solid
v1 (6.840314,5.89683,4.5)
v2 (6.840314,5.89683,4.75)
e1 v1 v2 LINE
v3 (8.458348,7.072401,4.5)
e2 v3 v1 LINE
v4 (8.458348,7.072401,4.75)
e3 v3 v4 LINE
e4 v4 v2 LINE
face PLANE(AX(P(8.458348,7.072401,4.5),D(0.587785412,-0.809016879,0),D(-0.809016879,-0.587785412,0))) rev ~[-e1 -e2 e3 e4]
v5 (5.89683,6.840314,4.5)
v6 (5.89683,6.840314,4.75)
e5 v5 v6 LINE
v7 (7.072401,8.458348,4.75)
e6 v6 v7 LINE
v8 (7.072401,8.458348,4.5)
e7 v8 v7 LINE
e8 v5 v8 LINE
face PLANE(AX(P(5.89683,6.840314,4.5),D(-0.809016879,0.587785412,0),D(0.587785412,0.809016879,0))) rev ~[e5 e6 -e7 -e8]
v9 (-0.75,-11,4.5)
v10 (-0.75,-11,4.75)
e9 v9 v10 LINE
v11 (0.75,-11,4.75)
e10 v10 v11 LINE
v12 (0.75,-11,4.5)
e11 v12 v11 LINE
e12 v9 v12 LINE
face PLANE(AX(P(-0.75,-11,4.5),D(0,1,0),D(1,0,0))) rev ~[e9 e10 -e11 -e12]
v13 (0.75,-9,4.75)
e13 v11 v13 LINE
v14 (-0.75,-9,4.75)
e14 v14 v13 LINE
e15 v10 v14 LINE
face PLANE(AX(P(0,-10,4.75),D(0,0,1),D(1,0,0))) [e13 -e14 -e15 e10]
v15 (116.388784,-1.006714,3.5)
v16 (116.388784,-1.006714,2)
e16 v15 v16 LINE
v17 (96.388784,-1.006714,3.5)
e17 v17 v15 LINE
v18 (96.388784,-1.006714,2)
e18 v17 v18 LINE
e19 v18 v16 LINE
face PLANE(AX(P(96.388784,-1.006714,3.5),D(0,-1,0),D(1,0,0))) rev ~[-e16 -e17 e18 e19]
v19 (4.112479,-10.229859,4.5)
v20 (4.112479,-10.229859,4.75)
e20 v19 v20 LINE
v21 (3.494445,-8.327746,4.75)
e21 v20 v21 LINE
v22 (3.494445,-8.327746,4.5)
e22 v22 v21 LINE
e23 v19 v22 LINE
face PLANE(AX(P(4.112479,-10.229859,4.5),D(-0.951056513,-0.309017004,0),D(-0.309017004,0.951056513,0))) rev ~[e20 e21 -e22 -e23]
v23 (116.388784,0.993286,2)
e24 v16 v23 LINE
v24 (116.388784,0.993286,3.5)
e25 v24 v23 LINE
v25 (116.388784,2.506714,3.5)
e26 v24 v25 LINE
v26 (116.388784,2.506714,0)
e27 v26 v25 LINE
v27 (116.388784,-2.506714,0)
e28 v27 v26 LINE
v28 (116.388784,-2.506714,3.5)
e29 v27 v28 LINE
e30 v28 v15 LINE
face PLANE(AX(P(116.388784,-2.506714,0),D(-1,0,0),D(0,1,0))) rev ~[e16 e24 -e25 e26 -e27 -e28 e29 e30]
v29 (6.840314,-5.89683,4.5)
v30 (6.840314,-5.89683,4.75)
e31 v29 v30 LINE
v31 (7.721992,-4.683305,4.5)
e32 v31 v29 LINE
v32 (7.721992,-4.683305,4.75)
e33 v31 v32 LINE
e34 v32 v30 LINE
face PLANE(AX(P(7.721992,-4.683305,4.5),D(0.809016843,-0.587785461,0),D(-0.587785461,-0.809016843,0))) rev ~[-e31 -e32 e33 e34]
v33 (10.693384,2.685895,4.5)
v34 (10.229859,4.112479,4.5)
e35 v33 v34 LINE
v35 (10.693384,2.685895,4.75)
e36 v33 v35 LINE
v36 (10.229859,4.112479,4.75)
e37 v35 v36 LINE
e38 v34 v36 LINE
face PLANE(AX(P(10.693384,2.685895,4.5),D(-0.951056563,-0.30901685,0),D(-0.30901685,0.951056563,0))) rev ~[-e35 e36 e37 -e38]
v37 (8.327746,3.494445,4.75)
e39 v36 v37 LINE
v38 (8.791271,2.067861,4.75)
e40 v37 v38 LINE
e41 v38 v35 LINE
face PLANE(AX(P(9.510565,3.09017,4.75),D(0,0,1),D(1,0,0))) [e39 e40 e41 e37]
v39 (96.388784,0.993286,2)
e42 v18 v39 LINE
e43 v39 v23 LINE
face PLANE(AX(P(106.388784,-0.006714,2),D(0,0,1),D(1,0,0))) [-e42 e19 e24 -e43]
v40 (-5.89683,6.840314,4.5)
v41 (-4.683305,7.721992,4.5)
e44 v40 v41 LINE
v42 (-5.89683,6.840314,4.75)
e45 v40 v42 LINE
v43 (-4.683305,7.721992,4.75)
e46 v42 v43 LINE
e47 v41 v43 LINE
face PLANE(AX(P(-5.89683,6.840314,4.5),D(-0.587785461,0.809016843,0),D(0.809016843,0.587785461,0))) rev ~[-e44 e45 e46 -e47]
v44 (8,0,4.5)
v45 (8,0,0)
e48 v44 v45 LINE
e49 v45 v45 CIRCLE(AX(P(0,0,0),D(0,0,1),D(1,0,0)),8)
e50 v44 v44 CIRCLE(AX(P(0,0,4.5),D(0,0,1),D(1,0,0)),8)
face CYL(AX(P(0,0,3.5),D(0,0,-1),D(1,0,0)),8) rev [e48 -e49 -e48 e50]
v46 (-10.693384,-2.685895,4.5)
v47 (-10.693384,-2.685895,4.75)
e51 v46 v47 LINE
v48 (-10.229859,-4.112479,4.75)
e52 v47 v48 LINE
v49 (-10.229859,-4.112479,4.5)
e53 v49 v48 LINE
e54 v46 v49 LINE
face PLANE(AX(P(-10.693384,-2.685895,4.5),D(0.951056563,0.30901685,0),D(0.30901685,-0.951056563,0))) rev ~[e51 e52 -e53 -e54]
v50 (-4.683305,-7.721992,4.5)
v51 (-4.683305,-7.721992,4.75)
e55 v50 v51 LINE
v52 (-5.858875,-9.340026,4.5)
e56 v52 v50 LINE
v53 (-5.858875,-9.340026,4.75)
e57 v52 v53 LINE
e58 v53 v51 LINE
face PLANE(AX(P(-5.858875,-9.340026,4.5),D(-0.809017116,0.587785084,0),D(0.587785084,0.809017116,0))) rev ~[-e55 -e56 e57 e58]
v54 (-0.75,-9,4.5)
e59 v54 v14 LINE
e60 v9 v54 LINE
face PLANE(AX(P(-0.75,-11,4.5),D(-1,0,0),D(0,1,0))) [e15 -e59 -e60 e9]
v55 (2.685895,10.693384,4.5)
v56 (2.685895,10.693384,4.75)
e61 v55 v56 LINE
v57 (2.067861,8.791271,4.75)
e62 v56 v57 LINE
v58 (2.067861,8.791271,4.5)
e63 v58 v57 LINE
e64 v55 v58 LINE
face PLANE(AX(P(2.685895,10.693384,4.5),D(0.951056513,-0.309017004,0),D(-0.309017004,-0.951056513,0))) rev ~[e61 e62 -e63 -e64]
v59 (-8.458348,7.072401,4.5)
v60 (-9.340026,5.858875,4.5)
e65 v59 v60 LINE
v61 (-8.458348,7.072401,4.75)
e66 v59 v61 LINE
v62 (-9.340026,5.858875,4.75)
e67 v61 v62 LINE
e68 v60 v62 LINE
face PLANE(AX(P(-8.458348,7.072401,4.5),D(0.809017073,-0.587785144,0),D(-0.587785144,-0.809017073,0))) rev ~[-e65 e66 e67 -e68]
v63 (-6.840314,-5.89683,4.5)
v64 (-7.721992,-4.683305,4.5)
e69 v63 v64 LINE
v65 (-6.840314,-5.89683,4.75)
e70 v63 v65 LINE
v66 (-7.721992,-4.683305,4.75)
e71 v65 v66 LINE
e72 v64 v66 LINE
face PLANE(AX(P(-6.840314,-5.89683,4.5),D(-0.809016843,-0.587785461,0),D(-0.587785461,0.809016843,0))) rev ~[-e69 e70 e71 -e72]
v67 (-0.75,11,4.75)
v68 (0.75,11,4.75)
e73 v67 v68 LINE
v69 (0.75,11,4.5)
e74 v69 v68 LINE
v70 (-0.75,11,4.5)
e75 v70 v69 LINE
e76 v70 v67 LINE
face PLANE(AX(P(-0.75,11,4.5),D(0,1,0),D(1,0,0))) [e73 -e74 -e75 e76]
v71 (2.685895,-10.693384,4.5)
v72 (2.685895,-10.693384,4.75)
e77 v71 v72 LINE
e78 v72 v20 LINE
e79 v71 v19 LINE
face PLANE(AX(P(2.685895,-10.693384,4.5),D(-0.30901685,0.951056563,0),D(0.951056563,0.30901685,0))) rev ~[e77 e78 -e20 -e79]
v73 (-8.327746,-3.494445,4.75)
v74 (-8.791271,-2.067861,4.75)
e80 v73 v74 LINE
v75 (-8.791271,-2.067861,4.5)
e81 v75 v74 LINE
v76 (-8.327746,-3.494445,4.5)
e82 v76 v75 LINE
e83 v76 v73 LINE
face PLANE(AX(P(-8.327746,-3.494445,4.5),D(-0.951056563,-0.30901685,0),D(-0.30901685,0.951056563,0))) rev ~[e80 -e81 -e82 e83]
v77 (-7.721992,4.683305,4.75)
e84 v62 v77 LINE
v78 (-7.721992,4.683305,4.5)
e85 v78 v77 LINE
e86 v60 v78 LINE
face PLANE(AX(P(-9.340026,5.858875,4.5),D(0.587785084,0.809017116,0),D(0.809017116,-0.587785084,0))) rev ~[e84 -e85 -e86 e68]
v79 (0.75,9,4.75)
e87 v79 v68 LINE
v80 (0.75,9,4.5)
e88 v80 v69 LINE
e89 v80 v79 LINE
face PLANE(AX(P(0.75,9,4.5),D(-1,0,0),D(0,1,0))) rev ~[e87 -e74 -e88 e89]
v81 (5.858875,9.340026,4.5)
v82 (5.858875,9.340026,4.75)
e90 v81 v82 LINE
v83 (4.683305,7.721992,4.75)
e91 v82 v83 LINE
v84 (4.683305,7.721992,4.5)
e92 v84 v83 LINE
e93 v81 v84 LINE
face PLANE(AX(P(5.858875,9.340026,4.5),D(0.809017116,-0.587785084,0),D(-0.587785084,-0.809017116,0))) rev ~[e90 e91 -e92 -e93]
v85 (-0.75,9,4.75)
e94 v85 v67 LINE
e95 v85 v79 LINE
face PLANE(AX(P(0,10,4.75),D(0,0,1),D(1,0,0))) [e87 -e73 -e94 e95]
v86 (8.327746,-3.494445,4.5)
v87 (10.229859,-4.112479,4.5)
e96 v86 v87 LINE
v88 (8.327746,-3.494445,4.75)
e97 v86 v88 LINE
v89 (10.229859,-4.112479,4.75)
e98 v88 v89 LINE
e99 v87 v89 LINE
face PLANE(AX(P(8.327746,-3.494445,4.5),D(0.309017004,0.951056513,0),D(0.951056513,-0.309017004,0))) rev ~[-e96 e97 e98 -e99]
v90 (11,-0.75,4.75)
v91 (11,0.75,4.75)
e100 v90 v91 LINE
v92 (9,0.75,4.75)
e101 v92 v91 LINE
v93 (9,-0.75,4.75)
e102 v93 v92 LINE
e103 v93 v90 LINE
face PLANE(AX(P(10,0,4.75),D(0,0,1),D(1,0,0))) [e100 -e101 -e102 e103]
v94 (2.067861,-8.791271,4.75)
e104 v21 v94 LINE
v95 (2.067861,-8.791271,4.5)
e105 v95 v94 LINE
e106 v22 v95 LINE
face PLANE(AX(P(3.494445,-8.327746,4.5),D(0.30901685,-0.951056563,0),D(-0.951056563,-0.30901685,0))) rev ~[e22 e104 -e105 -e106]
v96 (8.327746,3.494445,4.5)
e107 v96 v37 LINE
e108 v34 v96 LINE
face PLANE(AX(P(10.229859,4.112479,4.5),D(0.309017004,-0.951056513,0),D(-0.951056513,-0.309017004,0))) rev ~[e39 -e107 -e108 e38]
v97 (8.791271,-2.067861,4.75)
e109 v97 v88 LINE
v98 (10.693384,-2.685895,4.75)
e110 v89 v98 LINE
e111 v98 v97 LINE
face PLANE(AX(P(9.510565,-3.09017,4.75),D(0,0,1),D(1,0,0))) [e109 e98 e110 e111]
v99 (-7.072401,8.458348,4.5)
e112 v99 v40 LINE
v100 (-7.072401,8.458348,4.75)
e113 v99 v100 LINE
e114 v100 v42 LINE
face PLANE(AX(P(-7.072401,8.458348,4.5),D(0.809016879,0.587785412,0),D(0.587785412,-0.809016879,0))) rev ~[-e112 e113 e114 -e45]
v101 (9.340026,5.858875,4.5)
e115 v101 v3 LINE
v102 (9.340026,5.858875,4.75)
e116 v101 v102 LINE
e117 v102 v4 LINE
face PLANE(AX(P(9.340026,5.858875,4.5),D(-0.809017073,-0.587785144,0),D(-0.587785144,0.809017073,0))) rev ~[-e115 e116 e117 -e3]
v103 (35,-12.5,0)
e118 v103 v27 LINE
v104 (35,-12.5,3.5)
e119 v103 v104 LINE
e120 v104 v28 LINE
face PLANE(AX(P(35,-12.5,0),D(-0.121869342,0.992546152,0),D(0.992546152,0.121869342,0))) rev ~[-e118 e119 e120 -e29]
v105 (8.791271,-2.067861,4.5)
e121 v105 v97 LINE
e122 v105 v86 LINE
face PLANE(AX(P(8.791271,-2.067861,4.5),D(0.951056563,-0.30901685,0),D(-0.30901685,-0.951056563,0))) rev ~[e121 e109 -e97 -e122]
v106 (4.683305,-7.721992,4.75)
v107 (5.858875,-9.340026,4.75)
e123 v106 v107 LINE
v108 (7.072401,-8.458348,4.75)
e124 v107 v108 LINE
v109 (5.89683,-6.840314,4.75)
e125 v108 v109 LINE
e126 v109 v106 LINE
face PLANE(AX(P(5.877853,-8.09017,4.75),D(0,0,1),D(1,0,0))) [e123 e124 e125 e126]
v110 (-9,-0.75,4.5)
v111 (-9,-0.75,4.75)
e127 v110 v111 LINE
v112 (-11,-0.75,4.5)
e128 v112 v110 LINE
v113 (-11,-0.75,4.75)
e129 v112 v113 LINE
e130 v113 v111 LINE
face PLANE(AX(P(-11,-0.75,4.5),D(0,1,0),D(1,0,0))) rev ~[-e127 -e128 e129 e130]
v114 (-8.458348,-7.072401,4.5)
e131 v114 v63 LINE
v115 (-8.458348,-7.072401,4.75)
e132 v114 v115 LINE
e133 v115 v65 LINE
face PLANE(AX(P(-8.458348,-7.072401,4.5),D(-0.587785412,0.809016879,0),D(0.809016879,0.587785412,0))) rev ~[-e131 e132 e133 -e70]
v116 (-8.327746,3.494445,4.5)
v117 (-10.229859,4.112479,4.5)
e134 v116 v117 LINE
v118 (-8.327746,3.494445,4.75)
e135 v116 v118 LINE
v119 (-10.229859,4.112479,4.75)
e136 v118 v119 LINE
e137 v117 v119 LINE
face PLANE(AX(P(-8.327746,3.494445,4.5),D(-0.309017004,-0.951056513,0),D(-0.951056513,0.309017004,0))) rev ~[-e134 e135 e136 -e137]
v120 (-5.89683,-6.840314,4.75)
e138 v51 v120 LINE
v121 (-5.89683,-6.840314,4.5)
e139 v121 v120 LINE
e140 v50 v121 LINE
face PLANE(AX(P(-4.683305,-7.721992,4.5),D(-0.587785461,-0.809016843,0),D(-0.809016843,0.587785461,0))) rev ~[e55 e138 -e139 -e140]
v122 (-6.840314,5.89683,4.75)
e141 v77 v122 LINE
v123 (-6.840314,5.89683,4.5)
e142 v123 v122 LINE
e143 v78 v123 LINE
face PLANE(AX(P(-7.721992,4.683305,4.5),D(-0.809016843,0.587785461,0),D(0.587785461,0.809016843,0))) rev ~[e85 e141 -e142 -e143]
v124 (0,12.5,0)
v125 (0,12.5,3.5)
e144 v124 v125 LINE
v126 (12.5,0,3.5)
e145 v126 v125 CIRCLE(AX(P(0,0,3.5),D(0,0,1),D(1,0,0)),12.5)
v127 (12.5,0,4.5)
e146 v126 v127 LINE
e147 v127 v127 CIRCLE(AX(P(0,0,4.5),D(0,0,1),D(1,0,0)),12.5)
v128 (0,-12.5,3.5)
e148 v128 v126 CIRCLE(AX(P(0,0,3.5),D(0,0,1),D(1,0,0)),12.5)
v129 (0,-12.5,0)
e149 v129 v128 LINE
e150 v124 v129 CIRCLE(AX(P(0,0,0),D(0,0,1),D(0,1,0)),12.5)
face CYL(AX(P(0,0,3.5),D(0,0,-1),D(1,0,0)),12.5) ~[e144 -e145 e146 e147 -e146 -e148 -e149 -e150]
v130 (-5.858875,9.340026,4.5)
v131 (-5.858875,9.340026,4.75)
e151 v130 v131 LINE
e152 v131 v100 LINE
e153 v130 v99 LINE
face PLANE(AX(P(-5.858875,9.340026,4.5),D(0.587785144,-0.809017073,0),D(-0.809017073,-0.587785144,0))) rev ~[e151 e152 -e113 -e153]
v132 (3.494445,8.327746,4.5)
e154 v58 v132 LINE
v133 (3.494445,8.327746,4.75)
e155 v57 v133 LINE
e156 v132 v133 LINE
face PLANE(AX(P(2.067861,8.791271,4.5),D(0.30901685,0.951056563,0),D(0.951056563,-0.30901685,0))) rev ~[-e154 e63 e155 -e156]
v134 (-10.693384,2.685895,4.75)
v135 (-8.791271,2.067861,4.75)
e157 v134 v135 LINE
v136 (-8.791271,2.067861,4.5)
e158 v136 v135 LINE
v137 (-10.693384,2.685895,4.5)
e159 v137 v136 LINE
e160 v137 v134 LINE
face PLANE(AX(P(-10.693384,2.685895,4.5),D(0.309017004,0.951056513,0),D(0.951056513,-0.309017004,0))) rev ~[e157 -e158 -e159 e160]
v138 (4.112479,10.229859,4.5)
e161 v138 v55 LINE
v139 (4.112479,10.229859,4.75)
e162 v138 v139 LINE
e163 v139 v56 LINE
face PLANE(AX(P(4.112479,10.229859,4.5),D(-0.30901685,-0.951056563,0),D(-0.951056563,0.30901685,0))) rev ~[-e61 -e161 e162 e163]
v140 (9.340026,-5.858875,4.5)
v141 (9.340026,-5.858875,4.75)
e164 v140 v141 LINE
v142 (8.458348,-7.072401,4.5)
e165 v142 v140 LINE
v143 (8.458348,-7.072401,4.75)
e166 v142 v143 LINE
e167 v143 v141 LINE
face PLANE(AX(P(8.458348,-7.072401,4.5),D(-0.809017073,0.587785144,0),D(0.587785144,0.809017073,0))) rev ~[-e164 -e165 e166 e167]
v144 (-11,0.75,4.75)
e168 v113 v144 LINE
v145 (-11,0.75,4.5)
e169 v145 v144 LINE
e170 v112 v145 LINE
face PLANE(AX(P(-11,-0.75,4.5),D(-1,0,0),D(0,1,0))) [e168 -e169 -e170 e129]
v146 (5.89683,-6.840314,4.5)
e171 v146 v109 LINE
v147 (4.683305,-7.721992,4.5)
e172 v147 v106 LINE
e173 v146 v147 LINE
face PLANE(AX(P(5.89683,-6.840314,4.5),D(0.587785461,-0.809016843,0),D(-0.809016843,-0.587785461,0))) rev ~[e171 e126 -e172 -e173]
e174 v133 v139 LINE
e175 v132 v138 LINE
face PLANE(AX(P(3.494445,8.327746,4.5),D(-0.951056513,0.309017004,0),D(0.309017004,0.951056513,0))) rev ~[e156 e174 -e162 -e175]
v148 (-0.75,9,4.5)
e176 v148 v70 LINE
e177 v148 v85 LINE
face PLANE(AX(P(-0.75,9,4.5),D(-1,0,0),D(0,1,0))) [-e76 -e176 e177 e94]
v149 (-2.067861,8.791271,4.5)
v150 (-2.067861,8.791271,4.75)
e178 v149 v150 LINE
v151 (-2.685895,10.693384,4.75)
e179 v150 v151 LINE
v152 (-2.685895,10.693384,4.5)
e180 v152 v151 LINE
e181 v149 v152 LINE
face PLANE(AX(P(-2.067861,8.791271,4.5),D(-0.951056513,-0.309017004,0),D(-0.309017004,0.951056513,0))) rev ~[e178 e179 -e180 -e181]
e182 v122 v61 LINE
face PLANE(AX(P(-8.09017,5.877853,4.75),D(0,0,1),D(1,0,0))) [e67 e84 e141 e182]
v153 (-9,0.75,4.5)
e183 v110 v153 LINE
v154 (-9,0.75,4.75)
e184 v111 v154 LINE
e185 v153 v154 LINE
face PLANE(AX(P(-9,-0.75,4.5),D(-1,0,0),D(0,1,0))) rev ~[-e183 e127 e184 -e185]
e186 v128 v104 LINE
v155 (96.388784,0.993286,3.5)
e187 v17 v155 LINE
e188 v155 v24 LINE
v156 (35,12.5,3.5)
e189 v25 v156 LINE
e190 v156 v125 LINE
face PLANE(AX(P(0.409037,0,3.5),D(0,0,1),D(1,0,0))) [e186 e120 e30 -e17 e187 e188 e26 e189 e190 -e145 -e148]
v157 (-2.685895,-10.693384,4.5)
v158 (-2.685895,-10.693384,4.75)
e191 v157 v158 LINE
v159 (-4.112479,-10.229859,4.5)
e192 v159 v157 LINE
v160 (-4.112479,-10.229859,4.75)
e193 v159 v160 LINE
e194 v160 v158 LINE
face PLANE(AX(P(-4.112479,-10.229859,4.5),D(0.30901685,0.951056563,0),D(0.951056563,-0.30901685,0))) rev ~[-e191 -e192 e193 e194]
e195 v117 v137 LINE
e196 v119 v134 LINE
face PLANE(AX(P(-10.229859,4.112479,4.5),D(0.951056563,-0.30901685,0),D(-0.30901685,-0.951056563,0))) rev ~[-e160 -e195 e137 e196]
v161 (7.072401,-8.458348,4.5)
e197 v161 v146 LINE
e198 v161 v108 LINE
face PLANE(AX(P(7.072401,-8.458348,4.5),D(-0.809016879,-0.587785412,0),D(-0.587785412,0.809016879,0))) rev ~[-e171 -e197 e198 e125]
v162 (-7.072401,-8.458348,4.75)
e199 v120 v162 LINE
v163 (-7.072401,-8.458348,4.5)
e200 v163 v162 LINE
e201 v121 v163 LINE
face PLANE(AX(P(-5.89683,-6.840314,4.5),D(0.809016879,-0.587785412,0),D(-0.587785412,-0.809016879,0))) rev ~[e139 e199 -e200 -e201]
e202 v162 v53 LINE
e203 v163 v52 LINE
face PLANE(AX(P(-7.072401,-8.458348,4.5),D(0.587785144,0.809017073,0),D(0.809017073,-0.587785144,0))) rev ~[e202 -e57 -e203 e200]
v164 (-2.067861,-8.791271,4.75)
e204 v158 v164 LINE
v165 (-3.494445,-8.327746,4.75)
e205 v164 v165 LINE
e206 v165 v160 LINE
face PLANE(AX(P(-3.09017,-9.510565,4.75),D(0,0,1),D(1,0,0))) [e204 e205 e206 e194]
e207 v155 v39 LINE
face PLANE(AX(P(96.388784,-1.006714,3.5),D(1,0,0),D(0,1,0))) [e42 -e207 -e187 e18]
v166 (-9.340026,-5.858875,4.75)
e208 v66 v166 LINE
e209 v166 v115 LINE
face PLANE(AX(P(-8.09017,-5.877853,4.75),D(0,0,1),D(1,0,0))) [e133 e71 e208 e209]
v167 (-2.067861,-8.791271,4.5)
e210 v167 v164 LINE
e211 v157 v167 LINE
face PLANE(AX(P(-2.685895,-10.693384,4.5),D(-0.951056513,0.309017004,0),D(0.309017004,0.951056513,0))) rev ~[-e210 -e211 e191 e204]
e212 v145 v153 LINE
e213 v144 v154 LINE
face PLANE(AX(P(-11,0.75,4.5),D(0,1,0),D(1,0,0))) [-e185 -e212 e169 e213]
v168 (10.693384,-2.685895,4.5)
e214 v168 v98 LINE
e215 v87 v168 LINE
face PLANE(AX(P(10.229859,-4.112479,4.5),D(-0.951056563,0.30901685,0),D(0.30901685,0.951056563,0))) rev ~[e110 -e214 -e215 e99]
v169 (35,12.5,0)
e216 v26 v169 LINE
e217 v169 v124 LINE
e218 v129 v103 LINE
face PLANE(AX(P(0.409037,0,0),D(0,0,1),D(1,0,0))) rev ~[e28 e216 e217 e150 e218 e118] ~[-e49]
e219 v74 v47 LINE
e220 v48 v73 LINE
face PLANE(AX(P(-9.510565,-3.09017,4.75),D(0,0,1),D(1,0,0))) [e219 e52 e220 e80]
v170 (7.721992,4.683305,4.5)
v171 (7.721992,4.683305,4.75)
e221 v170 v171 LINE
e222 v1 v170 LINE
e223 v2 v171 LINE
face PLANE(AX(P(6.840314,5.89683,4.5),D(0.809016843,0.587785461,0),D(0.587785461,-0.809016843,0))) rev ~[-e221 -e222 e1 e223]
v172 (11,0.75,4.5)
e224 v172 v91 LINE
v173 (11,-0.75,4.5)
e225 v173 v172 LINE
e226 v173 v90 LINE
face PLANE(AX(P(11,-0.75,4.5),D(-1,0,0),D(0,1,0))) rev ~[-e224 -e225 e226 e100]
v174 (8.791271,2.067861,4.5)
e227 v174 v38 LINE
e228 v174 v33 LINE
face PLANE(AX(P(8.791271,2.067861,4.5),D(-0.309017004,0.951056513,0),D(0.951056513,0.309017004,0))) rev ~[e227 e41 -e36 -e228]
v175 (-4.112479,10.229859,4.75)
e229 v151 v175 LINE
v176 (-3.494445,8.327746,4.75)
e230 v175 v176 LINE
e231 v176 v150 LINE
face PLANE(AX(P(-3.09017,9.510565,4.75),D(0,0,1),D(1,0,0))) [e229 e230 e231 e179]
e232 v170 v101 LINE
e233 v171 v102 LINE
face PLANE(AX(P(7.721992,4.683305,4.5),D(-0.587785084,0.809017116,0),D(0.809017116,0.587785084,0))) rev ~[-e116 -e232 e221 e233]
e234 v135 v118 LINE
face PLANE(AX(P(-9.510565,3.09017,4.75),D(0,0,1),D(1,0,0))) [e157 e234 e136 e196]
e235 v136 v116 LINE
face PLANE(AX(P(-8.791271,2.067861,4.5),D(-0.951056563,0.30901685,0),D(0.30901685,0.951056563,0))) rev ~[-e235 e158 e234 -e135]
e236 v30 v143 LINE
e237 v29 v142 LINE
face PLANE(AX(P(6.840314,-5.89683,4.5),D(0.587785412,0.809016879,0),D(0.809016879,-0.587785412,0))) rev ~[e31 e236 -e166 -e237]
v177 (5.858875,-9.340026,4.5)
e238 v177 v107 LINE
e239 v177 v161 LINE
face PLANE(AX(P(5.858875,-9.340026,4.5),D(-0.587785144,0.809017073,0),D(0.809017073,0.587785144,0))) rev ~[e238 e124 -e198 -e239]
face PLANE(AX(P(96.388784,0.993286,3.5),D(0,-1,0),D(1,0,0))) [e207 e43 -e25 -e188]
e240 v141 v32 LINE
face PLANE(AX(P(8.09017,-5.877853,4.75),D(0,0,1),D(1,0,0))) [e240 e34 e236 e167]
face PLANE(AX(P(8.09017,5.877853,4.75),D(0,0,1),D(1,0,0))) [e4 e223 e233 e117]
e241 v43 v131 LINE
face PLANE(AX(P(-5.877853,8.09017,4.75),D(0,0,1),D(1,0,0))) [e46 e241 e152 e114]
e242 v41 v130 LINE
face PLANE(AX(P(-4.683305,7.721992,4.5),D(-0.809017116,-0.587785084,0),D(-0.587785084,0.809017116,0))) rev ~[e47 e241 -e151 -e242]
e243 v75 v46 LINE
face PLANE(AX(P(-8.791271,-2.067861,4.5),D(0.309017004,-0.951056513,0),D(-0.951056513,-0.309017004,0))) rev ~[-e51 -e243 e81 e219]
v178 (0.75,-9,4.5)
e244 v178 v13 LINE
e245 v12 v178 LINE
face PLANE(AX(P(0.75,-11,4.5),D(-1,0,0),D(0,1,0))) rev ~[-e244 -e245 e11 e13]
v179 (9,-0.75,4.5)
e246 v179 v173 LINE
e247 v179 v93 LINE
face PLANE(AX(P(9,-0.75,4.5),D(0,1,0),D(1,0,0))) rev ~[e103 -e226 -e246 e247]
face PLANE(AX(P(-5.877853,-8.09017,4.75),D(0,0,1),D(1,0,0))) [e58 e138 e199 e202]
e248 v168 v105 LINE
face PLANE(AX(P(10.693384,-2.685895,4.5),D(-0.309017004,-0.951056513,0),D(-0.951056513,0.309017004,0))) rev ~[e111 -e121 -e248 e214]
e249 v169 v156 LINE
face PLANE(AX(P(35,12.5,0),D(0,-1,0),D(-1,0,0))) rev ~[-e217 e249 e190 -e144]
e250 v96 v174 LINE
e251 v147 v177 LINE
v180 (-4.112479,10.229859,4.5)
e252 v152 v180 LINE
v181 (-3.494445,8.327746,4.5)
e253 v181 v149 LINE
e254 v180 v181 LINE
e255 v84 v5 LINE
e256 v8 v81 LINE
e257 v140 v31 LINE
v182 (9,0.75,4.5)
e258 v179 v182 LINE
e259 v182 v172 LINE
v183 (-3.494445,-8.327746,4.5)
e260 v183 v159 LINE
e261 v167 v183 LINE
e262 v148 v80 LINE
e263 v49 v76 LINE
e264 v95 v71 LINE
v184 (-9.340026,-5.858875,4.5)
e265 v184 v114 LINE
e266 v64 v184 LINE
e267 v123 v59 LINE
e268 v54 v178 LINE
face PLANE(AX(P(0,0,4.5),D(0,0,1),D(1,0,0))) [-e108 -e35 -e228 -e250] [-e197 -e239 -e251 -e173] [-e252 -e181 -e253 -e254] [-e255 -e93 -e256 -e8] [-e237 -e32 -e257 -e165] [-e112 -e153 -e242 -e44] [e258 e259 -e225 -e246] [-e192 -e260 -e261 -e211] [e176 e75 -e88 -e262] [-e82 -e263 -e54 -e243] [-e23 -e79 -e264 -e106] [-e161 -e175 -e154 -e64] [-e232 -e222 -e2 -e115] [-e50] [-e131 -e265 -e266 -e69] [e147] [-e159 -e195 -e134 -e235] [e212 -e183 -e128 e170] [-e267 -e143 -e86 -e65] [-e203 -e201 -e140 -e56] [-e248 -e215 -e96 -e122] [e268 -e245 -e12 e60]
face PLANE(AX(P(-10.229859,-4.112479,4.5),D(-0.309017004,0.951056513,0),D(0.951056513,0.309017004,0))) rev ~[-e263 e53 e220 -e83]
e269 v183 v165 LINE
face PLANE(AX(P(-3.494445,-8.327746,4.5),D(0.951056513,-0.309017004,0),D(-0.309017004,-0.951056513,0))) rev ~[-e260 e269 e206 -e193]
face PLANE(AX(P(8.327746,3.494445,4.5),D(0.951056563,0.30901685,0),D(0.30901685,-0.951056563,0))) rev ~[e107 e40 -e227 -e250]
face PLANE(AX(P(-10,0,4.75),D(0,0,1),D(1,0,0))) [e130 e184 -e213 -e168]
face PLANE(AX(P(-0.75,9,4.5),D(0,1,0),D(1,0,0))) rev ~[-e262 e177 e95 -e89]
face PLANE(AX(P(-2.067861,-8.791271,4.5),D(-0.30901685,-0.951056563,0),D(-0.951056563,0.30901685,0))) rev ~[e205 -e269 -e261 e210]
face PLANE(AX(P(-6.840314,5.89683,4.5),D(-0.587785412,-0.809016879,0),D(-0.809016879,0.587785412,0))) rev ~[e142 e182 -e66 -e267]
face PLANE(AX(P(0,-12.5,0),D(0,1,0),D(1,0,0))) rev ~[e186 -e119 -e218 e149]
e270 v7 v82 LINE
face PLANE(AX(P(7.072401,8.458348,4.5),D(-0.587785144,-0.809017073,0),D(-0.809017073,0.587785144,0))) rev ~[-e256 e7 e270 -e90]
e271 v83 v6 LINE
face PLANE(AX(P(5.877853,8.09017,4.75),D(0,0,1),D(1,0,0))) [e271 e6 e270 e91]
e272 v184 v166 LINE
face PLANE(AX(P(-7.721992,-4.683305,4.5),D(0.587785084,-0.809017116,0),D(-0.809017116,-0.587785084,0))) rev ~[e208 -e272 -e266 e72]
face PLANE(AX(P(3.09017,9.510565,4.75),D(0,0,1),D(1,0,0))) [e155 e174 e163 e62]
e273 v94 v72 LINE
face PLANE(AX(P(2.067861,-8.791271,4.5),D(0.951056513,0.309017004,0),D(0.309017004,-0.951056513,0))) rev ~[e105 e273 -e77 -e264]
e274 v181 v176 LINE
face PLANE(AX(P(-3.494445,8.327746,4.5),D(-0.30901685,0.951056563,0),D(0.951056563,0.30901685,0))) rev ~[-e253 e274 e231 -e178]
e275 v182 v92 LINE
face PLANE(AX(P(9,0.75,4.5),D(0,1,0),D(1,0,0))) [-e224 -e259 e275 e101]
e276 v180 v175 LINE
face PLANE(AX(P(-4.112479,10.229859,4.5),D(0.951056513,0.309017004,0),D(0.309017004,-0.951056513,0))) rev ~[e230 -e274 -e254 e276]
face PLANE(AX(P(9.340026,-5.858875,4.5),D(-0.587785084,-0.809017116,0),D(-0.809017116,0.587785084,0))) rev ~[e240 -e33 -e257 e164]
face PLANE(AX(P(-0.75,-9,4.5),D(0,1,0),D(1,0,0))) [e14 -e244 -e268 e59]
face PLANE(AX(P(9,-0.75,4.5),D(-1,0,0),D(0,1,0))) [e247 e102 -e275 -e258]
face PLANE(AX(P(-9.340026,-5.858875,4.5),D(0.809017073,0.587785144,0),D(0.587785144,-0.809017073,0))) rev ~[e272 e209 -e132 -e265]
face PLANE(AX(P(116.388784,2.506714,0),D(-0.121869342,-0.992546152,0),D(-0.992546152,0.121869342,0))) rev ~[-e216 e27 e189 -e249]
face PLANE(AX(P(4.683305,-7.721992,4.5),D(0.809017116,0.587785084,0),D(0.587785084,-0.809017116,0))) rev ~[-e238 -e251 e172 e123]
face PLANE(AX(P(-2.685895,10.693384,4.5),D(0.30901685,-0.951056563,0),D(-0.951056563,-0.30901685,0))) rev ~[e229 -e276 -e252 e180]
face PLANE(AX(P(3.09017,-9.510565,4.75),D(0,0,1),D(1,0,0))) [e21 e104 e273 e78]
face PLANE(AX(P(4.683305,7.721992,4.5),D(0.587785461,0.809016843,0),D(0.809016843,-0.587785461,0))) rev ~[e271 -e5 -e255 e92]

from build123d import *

# Parameters (mm, degrees)
F0_R     = 8
F1_DEPTH = 3.5
F2_R     = 12.5
F2_R_2   = 8
F3_DEPTH = 1
F4_W     = 1.5
F4_H     = 2
F4_W_2   = 2
F4_H_2   = 1.5
F5_DEPTH = 0.25
F6_W     = 20
F6_H     = 2
F7_DEPTH = 1.5


with BuildPart() as f1:
    # F0 (on Top) → F1 (new body)
    with BuildSketch(Plane.XY):
        with BuildLine():
            ThreePointArc((0, -12.5), (8.838835, -8.838835), (12.5, 0))
            ThreePointArc((12.5, 0), (8.838835, 8.838835), (0, 12.5))
            ThreePointArc((0, 12.5), (-12.5, 0), (0, -12.5))
        make_face()
        Circle(F0_R, mode=Mode.SUBTRACT)
        with BuildLine():
            ThreePointArc((0, 12.5), (8.838835, 8.838835), (12.5, 0))
            ThreePointArc((12.5, 0), (8.838835, -8.838835), (0, -12.5))
            Line((0, -12.5), (35, -12.5))
            Line((35, -12.5), (116.388784, -2.506714))
            Line((116.388784, -2.506714), (116.388784, 2.506714))
            Line((116.388784, 2.506714), (35, 12.5))
            Line((35, 12.5), (0, 12.5))
        make_face()
    extrude(amount=F1_DEPTH)

    # F2 (on face) → F3 (join)
    with BuildSketch(Plane.XY.offset(3.5)):
        Circle(F2_R)
        Circle(F2_R_2, mode=Mode.SUBTRACT)
    extrude(amount=F3_DEPTH)

    # F4 (on face) → F5 (join)
    with BuildSketch(Plane.XY.offset(4.5)):
        with Locations((0, 10)):
            Rectangle(F4_W, F4_H)
        Polygon((-2.685895, 10.693384), (-4.112479, 10.229859), (-3.494445, 8.327746), (-2.067861, 8.791271), align=None)
        Polygon((-5.858875, 9.340026), (-7.072401, 8.458348), (-5.89683, 6.840314), (-4.683305, 7.721992), align=None)
        Polygon((-8.458348, 7.072401), (-9.340026, 5.858875), (-7.721992, 4.683305), (-6.840314, 5.89683), align=None)
        Polygon((-10.229859, 4.112479), (-10.693384, 2.685895), (-8.791271, 2.067861), (-8.327746, 3.494445), align=None)
        with Locations((-10, 0)):
            Rectangle(F4_W_2, F4_H_2)
        Polygon((-10.693384, -2.685895), (-10.229859, -4.112479), (-8.327746, -3.494445), (-8.791271, -2.067861), align=None)
        Polygon((-9.340026, -5.858875), (-8.458348, -7.072401), (-6.840314, -5.89683), (-7.721992, -4.683305), align=None)
        Polygon((-7.072401, -8.458348), (-5.858875, -9.340026), (-4.683305, -7.721992), (-5.89683, -6.840314), align=None)
        Polygon((-4.112479, -10.229859), (-2.685895, -10.693384), (-2.067861, -8.791271), (-3.494445, -8.327746), align=None)
        with Locations((0, -10)):
            Rectangle(F4_W, F4_H)
        Polygon((2.685895, -10.693384), (4.112479, -10.229859), (3.494445, -8.327746), (2.067861, -8.791271), align=None)
        Polygon((5.858875, -9.340026), (7.072401, -8.458348), (5.89683, -6.840314), (4.683305, -7.721992), align=None)
        Polygon((8.458348, -7.072401), (9.340026, -5.858875), (7.721992, -4.683305), (6.840314, -5.89683), align=None)
        Polygon((10.229859, -4.112479), (10.693384, -2.685895), (8.791271, -2.067861), (8.327746, -3.494445), align=None)
        with Locations((10, 0)):
            Rectangle(F4_W_2, F4_H_2)
        Polygon((10.693384, 2.685895), (10.229859, 4.112479), (8.327746, 3.494445), (8.791271, 2.067861), align=None)
        Polygon((9.340026, 5.858875), (8.458348, 7.072401), (6.840314, 5.89683), (7.721992, 4.683305), align=None)
        Polygon((7.072401, 8.458348), (5.858875, 9.340026), (4.683305, 7.721992), (5.89683, 6.840314), align=None)
        Polygon((4.112479, 10.229859), (2.685895, 10.693384), (2.067861, 8.791271), (3.494445, 8.327746), align=None)
    extrude(amount=F5_DEPTH)

    # F6 (on face) → F7 (cut)
    with BuildSketch(Plane.XY.offset(3.5)):
        with Locations((106.388784, -0.006714)):
            Rectangle(F6_W, F6_H)
    extrude(amount=-F7_DEPTH, mode=Mode.SUBTRACT)


solid = f1.part
